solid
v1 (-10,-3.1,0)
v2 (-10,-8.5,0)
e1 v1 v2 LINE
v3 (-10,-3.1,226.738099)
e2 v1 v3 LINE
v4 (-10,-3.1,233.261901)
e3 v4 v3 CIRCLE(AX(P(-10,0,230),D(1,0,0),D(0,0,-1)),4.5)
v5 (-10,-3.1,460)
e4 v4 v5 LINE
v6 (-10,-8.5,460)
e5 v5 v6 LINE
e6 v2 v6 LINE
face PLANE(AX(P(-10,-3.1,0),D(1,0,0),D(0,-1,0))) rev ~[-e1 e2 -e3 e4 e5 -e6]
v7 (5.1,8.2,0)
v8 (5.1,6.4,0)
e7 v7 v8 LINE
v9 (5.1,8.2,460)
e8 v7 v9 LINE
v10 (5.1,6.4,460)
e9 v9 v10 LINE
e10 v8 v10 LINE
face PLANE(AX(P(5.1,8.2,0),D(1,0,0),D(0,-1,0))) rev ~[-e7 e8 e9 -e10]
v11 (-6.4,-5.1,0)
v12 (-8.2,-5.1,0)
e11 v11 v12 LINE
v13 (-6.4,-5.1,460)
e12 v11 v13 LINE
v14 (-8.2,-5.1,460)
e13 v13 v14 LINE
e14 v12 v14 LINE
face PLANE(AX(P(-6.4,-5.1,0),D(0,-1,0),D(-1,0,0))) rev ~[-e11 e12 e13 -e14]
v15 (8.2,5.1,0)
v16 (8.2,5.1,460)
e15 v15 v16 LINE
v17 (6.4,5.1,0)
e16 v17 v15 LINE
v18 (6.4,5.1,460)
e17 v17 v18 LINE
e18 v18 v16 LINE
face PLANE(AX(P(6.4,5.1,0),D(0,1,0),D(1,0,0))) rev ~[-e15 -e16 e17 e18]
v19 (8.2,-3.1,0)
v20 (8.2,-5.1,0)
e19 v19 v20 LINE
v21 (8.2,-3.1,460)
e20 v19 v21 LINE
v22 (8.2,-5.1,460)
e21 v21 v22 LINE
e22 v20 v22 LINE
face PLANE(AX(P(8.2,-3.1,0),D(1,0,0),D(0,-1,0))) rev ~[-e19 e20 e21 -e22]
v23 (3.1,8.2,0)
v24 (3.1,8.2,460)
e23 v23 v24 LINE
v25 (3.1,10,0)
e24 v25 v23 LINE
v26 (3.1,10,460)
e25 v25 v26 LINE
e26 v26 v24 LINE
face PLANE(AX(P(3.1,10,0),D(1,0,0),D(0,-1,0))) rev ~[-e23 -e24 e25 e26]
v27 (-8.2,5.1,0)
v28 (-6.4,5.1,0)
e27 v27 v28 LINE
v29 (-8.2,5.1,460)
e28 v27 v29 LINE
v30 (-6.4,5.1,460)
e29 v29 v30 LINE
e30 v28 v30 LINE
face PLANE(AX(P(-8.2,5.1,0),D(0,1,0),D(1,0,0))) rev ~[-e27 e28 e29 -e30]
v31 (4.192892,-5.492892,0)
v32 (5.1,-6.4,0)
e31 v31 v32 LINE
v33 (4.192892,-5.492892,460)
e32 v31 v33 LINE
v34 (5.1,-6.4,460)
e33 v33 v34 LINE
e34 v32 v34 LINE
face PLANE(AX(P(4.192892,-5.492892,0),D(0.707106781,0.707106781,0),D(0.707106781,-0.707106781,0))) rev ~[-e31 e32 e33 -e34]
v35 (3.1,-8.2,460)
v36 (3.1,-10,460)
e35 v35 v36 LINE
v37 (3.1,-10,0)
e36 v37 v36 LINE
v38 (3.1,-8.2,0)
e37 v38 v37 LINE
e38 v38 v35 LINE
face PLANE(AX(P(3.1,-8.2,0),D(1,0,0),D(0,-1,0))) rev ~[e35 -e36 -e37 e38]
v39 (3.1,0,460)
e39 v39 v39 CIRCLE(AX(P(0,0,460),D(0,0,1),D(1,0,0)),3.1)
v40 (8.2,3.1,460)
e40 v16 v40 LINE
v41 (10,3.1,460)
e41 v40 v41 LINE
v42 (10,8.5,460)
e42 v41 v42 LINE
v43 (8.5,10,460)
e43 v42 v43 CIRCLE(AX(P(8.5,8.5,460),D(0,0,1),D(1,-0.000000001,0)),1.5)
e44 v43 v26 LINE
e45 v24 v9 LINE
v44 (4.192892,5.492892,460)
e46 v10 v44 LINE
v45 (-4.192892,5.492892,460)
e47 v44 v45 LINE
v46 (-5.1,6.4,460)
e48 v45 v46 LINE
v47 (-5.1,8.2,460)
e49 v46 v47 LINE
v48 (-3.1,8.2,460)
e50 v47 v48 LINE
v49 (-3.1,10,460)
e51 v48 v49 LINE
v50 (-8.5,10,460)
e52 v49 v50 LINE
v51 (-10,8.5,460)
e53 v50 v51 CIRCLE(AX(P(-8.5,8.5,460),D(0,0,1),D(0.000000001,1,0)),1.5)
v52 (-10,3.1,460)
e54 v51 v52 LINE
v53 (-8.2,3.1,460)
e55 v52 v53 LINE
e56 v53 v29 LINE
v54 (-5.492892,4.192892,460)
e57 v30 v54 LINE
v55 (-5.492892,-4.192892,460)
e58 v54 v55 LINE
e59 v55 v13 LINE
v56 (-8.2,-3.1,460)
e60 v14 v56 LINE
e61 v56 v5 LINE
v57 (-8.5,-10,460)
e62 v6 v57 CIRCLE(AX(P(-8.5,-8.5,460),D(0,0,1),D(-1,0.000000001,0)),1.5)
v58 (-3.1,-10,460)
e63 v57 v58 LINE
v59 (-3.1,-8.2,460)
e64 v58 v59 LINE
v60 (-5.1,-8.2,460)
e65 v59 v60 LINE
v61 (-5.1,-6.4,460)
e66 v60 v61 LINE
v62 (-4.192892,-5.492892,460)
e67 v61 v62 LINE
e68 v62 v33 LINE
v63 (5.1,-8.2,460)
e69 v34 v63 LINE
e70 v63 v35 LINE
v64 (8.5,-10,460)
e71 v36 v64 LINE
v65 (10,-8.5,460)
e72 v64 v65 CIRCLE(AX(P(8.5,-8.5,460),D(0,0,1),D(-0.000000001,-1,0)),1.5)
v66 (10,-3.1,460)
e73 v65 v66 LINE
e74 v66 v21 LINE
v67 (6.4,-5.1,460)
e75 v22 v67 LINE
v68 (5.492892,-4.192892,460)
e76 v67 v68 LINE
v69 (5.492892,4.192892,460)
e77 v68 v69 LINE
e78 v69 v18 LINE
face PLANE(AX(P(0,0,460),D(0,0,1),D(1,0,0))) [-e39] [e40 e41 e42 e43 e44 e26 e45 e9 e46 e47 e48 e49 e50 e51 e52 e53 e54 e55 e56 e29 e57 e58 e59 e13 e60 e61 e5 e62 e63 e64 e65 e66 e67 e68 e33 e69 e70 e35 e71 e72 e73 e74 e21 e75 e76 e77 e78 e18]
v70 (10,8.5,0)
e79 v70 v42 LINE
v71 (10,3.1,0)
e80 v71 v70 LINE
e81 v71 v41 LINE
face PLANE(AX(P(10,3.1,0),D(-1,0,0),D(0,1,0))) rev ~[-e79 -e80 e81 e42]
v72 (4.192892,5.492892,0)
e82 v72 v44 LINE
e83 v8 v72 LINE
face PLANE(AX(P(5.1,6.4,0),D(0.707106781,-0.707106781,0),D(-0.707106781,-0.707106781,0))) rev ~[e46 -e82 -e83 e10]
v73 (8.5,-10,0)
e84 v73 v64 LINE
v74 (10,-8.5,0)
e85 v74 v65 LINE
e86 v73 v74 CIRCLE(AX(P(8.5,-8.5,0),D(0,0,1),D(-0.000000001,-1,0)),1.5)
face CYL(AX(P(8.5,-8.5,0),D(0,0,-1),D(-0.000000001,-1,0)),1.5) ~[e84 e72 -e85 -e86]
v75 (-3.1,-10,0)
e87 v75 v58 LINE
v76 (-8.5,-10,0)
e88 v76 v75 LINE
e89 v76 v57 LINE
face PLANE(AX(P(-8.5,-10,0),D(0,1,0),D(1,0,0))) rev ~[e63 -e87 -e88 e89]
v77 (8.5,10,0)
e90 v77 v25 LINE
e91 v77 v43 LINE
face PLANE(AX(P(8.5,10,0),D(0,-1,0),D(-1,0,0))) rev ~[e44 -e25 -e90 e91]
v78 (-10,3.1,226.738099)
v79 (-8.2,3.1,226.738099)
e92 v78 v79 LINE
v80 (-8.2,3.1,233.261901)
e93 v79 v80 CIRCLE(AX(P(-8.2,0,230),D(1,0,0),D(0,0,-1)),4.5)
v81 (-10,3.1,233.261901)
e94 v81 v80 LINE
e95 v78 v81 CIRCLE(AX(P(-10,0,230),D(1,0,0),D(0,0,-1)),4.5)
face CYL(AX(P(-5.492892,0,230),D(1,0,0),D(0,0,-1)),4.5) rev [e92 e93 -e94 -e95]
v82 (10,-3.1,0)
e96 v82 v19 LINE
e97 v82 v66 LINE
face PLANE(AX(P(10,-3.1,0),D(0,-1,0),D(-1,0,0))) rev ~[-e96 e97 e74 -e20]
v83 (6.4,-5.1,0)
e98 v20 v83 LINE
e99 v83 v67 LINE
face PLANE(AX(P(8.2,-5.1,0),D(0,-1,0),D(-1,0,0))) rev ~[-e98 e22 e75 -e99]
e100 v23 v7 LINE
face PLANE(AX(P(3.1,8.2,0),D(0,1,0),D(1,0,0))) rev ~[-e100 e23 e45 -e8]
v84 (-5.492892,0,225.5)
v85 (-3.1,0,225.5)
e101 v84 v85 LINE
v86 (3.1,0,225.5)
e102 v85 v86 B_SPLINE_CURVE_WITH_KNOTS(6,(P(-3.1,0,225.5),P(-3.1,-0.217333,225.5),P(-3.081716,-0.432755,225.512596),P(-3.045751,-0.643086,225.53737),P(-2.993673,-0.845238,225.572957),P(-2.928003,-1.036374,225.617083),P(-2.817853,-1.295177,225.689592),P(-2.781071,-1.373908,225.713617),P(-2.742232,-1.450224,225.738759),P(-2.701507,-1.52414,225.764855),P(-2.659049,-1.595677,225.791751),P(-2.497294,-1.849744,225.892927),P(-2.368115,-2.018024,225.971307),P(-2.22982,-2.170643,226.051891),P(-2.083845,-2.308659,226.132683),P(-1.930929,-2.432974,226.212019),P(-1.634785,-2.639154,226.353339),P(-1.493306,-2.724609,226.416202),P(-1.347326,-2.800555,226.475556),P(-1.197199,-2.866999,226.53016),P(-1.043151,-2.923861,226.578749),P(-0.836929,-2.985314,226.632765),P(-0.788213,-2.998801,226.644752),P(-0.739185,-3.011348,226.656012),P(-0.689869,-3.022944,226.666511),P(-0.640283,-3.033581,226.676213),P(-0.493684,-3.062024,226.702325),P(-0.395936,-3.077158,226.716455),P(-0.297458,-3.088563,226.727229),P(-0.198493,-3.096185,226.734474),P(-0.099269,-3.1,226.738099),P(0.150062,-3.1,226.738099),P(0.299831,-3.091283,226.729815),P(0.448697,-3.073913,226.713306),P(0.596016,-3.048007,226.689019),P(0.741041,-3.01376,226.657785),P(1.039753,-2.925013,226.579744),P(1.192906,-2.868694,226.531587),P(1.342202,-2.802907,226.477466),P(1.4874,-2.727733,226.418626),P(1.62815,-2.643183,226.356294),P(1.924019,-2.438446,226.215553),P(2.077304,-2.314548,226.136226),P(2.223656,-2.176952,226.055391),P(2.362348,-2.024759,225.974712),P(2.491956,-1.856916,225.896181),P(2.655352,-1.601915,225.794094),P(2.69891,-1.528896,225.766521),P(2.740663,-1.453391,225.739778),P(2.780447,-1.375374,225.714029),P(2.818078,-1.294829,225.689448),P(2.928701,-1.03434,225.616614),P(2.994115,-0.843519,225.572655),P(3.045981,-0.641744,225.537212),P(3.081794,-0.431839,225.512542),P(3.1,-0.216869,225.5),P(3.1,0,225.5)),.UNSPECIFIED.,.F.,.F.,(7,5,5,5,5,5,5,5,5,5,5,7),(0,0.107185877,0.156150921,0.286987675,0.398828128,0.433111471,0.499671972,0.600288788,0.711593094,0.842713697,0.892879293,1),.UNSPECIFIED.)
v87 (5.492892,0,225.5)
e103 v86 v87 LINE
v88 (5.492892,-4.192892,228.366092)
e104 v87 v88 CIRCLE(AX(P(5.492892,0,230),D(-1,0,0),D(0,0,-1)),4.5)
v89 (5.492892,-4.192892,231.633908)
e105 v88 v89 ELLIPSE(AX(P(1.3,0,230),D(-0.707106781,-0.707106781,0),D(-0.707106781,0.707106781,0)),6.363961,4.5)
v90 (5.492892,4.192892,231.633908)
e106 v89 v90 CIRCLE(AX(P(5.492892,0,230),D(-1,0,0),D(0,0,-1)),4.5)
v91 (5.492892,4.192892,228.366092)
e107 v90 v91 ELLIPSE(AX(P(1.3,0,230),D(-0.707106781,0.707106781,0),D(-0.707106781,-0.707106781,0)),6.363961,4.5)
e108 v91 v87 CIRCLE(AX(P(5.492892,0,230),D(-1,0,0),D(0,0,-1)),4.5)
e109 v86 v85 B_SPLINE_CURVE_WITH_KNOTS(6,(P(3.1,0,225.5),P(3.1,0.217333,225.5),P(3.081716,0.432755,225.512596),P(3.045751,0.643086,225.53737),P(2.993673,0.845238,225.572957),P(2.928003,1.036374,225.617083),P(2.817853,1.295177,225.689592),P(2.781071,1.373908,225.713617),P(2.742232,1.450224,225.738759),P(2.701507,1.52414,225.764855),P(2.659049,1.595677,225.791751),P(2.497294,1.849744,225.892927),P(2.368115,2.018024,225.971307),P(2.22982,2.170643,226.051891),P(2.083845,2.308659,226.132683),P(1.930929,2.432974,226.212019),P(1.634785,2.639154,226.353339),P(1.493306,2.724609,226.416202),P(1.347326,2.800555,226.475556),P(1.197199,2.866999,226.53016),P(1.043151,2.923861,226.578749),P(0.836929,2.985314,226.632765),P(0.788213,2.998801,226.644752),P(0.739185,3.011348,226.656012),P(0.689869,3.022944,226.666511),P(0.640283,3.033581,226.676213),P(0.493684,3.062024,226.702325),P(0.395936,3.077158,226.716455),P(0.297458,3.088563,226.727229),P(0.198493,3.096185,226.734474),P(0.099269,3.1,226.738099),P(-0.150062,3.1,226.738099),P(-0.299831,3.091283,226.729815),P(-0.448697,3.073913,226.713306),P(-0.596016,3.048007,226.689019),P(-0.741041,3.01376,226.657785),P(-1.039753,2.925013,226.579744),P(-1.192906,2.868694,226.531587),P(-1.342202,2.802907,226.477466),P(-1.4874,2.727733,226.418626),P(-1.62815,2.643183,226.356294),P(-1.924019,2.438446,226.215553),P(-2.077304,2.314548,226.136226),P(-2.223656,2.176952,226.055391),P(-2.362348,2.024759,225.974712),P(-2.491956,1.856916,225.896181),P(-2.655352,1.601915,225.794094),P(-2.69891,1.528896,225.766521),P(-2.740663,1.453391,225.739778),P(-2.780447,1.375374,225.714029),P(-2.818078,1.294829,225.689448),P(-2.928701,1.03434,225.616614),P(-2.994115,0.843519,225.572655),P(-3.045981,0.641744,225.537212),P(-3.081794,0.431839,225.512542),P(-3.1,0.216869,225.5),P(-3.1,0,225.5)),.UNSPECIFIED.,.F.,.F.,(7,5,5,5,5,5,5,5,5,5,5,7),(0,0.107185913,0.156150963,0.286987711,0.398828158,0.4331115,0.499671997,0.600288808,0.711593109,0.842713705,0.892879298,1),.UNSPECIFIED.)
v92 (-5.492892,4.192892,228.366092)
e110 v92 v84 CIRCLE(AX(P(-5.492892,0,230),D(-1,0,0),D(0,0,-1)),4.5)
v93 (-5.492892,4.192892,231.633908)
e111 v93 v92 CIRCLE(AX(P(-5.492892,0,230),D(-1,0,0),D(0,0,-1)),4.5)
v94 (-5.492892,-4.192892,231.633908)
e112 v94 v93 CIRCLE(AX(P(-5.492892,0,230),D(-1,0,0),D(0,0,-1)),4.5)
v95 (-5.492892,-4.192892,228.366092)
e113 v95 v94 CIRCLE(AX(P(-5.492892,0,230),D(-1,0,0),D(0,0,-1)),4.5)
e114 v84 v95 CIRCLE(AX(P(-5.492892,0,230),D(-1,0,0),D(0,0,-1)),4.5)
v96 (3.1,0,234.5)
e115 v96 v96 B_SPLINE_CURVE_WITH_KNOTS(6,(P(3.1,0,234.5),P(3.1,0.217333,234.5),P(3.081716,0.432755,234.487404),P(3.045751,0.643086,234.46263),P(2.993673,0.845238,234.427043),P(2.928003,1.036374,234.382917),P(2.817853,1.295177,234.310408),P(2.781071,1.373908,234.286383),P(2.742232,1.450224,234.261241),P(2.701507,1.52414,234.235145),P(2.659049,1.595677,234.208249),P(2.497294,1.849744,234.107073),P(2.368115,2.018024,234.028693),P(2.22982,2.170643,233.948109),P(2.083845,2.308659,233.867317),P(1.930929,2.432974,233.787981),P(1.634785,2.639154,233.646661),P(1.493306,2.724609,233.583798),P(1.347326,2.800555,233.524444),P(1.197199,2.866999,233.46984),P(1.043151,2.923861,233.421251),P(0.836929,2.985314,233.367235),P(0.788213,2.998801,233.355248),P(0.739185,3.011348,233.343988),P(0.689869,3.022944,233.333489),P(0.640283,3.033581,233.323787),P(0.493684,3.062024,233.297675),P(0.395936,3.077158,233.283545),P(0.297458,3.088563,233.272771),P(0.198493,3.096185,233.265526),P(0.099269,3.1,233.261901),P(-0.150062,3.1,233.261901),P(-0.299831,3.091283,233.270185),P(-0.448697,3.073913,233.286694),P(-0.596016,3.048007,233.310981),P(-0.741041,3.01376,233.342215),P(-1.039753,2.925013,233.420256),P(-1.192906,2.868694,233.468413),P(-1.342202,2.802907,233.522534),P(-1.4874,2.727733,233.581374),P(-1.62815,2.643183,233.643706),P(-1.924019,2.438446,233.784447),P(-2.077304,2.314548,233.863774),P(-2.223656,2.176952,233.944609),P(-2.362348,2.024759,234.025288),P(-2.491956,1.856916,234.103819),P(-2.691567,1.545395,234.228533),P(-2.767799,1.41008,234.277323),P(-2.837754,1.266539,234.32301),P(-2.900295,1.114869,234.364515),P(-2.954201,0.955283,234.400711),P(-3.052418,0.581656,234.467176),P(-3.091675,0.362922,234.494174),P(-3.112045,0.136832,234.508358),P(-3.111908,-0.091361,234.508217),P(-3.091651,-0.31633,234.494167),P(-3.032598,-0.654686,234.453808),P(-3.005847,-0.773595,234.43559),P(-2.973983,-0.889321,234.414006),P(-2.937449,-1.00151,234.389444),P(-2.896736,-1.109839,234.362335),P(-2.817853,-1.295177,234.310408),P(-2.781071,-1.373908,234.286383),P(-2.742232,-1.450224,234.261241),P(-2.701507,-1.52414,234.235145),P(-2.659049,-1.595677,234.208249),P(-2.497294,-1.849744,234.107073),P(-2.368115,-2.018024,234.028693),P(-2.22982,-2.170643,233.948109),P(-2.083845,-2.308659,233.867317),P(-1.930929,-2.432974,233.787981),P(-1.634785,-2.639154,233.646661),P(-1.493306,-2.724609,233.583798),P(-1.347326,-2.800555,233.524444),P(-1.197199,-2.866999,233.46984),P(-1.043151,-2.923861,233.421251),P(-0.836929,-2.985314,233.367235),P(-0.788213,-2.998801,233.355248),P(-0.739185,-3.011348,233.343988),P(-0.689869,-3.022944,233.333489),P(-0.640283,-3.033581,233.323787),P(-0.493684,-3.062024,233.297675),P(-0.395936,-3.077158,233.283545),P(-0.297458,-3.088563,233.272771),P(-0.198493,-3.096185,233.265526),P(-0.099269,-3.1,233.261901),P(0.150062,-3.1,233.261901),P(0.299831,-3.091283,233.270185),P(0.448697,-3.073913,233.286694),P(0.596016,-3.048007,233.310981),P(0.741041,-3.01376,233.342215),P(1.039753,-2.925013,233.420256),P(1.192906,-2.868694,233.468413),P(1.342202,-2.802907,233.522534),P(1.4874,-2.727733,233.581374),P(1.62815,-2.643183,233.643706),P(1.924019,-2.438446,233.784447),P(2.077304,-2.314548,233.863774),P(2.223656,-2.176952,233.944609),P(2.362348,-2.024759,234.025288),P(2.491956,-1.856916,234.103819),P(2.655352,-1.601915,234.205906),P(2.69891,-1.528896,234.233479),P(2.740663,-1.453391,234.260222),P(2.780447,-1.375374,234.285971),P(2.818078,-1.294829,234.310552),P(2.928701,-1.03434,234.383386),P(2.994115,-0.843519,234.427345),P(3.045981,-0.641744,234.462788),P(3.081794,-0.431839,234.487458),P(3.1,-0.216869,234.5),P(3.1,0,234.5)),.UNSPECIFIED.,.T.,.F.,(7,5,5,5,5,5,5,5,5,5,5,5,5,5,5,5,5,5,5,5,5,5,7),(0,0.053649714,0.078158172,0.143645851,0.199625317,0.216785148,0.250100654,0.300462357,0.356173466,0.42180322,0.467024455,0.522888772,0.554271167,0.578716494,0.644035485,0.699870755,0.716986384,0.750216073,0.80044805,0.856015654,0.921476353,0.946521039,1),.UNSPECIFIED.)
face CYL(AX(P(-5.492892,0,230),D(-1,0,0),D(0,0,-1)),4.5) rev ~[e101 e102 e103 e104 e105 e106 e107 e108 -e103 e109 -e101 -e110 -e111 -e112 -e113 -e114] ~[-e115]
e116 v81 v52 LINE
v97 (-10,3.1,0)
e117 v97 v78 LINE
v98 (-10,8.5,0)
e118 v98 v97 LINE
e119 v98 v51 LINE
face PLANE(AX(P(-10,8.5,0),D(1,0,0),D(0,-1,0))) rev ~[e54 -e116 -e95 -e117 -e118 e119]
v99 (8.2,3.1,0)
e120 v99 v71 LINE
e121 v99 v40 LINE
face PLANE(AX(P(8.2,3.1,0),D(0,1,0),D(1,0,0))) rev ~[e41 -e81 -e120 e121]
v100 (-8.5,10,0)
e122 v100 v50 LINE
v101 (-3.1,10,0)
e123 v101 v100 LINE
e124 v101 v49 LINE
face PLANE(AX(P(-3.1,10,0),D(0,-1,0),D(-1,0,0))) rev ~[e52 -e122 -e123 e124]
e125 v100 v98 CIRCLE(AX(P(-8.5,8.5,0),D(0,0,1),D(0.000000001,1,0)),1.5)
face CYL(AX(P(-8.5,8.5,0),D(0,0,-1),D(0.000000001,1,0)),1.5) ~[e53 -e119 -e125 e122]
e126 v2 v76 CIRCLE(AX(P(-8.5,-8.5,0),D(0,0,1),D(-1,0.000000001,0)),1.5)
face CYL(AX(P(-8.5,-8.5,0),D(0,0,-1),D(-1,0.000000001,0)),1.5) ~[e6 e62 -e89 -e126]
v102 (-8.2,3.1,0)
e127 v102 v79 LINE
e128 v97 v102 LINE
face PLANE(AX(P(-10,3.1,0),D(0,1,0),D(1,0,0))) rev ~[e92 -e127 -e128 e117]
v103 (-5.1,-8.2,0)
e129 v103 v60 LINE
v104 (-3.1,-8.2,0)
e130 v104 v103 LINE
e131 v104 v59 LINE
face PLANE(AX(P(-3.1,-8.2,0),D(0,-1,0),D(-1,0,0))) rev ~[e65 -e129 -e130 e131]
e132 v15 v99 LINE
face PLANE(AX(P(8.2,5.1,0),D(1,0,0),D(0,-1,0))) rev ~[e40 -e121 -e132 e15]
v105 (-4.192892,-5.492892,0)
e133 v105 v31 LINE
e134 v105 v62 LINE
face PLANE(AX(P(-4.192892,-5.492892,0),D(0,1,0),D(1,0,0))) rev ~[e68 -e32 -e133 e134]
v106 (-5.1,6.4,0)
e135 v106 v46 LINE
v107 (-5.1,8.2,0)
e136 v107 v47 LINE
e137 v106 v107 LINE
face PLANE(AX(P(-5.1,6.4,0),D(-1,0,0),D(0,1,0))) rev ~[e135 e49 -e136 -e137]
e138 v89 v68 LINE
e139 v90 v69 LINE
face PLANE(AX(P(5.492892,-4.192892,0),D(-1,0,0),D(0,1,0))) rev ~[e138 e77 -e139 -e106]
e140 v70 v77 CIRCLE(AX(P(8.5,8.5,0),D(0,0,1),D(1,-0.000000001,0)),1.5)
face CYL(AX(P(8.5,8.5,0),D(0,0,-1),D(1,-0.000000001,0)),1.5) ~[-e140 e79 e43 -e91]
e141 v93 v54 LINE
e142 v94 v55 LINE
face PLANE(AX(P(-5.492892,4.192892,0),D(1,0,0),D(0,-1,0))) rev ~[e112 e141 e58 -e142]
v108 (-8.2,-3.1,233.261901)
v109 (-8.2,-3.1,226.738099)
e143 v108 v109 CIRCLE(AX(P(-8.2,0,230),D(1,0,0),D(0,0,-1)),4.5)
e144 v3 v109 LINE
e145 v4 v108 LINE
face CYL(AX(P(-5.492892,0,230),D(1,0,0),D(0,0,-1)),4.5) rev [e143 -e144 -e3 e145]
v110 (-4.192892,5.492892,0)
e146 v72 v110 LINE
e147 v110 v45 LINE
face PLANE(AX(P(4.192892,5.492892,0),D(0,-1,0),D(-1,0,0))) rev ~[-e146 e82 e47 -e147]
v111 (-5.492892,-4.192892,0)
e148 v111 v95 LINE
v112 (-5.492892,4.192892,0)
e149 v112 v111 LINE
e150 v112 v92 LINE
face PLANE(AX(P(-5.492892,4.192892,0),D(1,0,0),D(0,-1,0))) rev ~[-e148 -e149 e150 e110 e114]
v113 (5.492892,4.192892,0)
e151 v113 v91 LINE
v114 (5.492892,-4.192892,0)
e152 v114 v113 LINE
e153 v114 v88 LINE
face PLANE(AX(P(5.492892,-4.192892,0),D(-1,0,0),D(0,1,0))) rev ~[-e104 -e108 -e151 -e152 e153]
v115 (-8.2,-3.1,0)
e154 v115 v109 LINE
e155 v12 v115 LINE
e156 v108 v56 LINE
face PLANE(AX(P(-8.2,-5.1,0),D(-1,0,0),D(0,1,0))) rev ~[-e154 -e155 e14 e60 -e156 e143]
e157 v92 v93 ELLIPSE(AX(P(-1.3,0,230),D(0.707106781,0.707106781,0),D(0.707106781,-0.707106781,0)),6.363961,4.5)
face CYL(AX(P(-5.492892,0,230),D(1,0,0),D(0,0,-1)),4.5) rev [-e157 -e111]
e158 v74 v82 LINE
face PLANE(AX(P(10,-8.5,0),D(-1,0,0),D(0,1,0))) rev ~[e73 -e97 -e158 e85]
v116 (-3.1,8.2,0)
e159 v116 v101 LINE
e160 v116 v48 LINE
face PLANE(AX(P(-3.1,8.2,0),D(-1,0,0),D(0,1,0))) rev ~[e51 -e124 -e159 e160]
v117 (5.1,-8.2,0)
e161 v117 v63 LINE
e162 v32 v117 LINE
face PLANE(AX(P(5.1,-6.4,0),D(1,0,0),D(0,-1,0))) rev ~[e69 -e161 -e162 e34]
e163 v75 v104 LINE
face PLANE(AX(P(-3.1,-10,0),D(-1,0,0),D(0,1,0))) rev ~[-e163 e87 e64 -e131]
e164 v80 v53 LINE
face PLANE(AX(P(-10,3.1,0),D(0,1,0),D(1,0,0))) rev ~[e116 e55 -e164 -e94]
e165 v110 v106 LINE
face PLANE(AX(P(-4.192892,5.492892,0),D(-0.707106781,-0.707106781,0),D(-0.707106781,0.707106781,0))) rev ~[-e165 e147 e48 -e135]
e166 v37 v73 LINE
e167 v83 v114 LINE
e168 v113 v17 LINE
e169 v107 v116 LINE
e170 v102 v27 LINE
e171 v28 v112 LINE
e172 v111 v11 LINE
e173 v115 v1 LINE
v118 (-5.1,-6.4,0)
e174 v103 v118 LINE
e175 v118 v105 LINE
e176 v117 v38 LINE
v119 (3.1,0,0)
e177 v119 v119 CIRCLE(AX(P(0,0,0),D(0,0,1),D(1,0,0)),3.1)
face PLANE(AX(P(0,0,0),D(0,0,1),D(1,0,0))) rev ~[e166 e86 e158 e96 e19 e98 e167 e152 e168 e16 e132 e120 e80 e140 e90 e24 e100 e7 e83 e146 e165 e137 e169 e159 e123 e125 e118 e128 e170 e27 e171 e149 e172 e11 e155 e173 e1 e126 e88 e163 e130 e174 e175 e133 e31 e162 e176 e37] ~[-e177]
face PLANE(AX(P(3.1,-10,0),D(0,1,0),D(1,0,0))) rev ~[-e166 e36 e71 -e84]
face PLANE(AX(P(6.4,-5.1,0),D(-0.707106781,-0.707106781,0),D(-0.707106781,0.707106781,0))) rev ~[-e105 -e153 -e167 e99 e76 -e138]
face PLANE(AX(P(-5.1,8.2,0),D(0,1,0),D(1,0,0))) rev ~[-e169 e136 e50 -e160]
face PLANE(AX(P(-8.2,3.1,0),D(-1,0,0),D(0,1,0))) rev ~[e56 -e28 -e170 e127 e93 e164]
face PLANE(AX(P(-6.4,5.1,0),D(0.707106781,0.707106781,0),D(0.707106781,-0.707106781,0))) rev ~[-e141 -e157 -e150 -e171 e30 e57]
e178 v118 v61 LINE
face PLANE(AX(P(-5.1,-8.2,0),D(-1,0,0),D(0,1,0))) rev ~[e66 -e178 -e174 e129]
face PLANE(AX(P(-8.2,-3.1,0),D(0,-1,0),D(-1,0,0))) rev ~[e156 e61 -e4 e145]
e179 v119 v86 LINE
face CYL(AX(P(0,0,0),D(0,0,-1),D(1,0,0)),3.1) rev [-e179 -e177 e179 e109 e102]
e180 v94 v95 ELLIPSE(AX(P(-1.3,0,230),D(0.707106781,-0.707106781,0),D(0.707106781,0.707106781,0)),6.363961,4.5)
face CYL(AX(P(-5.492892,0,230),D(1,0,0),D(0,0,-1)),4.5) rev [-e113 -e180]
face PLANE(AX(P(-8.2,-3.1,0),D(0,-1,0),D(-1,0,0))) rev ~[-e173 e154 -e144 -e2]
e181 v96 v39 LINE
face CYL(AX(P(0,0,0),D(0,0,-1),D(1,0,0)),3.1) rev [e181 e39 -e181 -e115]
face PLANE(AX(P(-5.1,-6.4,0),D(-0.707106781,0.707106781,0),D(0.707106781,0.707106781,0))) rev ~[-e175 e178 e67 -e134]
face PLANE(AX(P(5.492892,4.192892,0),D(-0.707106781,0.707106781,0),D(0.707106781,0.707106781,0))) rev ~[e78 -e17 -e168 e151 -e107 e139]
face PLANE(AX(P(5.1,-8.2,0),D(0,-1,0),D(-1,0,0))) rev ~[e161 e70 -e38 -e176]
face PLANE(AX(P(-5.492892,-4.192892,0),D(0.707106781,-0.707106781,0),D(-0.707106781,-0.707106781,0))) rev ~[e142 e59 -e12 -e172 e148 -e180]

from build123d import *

# Parameters (mm, degrees)
SKETCH1_R               = 3.1
BOSS_EXTRUDE1_DEPTH     = 460
SKETCH5_R               = 4.5
CUT_EXTRUDE2_DEPTH      = 5.507107651
CUT_EXTRUDE2_DEPTH_BACK = 12


with BuildPart() as part:
    # Sketch1 → Boss-Extrude1 (new body)
    with BuildSketch(Plane.XY):
        with BuildLine():
            Line((-10, 3.1), (-8.2, 3.1))
            Line((-8.2, 3.1), (-8.2, 5.1))
            Line((-8.2, 5.1), (-6.4, 5.1))
            Line((-6.4, 5.1), (-5.492892349, 4.192892349))
            Line((-5.492892349, 4.192892349), (-5.492892349, -4.192892349))
            Line((-5.492892349, -4.192892349), (-6.4, -5.1))
            Line((-6.4, -5.1), (-8.2, -5.1))
            Line((-8.2, -5.1), (-8.2, -3.1))
            Line((-8.2, -3.1), (-10, -3.1))
            Line((-10, -3.1), (-10, -8.5))
            ThreePointArc((-10, -8.5), (-9.560660172, -9.560660172), (-8.5, -10))
            Line((-8.5, -10), (-3.1, -10))
            Line((-3.1, -10), (-3.1, -8.2))
            Line((-3.1, -8.2), (-5.1, -8.2))
            Line((-5.1, -8.2), (-5.1, -6.4))
            Line((-5.1, -6.4), (-4.192892349, -5.492892349))
            Line((-4.192892349, -5.492892349), (4.192892349, -5.492892349))
            Line((4.192892349, -5.492892349), (5.1, -6.4))
            Line((5.1, -6.4), (5.1, -8.2))
            Line((5.1, -8.2), (3.1, -8.2))
            Line((3.1, -8.2), (3.1, -10))
            Line((3.1, -10), (8.5, -10))
            ThreePointArc((8.5, -10), (9.560660172, -9.560660172), (10, -8.5))
            Line((10, -8.5), (10, -3.1))
            Line((10, -3.1), (8.2, -3.1))
            Line((8.2, -3.1), (8.2, -5.1))
            Line((8.2, -5.1), (6.4, -5.1))
            Line((6.4, -5.1), (5.492892349, -4.192892349))
            Line((5.492892349, -4.192892349), (5.492892349, 4.192892349))
            Line((5.492892349, 4.192892349), (6.4, 5.1))
            Line((6.4, 5.1), (8.2, 5.1))
            Line((8.2, 5.1), (8.2, 3.1))
            Line((8.2, 3.1), (10, 3.1))
            Line((10, 3.1), (10, 8.5))
            ThreePointArc((10, 8.5), (9.560660172, 9.560660172), (8.5, 10))
            Line((8.5, 10), (3.1, 10))
            Line((3.1, 10), (3.1, 8.2))
            Line((3.1, 8.2), (5.1, 8.2))
            Line((5.1, 8.2), (5.1, 6.4))
            Line((5.1, 6.4), (4.192892349, 5.492892349))
            Line((4.192892349, 5.492892349), (-4.192892349, 5.492892349))
            Line((-4.192892349, 5.492892349), (-5.1, 6.4))
            Line((-5.1, 6.4), (-5.1, 8.2))
            Line((-5.1, 8.2), (-3.1, 8.2))
            Line((-3.1, 8.2), (-3.1, 10))
            Line((-3.1, 10), (-8.5, 10))
            ThreePointArc((-8.5, 10), (-9.560660172, 9.560660172), (-10, 8.5))
            Line((-10, 8.5), (-10, 3.1))
        make_face()
        Circle(SKETCH1_R, mode=Mode.SUBTRACT)
    extrude(amount=BOSS_EXTRUDE1_DEPTH)

    # Sketch5 → Cut-Extrude2 (cut, two sides)
    with BuildSketch(Plane(origin=(-5.492892349, 0, 0), x_dir=(0, 0, -1), z_dir=(-1, 0, 0))) as cut_extrude2_sk:
        with Locations((-230, 0)):
            Circle(SKETCH5_R)
    extrude(amount=CUT_EXTRUDE2_DEPTH, mode=Mode.SUBTRACT)
    extrude(cut_extrude2_sk.sketch, amount=-CUT_EXTRUDE2_DEPTH_BACK, mode=Mode.SUBTRACT)


solid = part.part
